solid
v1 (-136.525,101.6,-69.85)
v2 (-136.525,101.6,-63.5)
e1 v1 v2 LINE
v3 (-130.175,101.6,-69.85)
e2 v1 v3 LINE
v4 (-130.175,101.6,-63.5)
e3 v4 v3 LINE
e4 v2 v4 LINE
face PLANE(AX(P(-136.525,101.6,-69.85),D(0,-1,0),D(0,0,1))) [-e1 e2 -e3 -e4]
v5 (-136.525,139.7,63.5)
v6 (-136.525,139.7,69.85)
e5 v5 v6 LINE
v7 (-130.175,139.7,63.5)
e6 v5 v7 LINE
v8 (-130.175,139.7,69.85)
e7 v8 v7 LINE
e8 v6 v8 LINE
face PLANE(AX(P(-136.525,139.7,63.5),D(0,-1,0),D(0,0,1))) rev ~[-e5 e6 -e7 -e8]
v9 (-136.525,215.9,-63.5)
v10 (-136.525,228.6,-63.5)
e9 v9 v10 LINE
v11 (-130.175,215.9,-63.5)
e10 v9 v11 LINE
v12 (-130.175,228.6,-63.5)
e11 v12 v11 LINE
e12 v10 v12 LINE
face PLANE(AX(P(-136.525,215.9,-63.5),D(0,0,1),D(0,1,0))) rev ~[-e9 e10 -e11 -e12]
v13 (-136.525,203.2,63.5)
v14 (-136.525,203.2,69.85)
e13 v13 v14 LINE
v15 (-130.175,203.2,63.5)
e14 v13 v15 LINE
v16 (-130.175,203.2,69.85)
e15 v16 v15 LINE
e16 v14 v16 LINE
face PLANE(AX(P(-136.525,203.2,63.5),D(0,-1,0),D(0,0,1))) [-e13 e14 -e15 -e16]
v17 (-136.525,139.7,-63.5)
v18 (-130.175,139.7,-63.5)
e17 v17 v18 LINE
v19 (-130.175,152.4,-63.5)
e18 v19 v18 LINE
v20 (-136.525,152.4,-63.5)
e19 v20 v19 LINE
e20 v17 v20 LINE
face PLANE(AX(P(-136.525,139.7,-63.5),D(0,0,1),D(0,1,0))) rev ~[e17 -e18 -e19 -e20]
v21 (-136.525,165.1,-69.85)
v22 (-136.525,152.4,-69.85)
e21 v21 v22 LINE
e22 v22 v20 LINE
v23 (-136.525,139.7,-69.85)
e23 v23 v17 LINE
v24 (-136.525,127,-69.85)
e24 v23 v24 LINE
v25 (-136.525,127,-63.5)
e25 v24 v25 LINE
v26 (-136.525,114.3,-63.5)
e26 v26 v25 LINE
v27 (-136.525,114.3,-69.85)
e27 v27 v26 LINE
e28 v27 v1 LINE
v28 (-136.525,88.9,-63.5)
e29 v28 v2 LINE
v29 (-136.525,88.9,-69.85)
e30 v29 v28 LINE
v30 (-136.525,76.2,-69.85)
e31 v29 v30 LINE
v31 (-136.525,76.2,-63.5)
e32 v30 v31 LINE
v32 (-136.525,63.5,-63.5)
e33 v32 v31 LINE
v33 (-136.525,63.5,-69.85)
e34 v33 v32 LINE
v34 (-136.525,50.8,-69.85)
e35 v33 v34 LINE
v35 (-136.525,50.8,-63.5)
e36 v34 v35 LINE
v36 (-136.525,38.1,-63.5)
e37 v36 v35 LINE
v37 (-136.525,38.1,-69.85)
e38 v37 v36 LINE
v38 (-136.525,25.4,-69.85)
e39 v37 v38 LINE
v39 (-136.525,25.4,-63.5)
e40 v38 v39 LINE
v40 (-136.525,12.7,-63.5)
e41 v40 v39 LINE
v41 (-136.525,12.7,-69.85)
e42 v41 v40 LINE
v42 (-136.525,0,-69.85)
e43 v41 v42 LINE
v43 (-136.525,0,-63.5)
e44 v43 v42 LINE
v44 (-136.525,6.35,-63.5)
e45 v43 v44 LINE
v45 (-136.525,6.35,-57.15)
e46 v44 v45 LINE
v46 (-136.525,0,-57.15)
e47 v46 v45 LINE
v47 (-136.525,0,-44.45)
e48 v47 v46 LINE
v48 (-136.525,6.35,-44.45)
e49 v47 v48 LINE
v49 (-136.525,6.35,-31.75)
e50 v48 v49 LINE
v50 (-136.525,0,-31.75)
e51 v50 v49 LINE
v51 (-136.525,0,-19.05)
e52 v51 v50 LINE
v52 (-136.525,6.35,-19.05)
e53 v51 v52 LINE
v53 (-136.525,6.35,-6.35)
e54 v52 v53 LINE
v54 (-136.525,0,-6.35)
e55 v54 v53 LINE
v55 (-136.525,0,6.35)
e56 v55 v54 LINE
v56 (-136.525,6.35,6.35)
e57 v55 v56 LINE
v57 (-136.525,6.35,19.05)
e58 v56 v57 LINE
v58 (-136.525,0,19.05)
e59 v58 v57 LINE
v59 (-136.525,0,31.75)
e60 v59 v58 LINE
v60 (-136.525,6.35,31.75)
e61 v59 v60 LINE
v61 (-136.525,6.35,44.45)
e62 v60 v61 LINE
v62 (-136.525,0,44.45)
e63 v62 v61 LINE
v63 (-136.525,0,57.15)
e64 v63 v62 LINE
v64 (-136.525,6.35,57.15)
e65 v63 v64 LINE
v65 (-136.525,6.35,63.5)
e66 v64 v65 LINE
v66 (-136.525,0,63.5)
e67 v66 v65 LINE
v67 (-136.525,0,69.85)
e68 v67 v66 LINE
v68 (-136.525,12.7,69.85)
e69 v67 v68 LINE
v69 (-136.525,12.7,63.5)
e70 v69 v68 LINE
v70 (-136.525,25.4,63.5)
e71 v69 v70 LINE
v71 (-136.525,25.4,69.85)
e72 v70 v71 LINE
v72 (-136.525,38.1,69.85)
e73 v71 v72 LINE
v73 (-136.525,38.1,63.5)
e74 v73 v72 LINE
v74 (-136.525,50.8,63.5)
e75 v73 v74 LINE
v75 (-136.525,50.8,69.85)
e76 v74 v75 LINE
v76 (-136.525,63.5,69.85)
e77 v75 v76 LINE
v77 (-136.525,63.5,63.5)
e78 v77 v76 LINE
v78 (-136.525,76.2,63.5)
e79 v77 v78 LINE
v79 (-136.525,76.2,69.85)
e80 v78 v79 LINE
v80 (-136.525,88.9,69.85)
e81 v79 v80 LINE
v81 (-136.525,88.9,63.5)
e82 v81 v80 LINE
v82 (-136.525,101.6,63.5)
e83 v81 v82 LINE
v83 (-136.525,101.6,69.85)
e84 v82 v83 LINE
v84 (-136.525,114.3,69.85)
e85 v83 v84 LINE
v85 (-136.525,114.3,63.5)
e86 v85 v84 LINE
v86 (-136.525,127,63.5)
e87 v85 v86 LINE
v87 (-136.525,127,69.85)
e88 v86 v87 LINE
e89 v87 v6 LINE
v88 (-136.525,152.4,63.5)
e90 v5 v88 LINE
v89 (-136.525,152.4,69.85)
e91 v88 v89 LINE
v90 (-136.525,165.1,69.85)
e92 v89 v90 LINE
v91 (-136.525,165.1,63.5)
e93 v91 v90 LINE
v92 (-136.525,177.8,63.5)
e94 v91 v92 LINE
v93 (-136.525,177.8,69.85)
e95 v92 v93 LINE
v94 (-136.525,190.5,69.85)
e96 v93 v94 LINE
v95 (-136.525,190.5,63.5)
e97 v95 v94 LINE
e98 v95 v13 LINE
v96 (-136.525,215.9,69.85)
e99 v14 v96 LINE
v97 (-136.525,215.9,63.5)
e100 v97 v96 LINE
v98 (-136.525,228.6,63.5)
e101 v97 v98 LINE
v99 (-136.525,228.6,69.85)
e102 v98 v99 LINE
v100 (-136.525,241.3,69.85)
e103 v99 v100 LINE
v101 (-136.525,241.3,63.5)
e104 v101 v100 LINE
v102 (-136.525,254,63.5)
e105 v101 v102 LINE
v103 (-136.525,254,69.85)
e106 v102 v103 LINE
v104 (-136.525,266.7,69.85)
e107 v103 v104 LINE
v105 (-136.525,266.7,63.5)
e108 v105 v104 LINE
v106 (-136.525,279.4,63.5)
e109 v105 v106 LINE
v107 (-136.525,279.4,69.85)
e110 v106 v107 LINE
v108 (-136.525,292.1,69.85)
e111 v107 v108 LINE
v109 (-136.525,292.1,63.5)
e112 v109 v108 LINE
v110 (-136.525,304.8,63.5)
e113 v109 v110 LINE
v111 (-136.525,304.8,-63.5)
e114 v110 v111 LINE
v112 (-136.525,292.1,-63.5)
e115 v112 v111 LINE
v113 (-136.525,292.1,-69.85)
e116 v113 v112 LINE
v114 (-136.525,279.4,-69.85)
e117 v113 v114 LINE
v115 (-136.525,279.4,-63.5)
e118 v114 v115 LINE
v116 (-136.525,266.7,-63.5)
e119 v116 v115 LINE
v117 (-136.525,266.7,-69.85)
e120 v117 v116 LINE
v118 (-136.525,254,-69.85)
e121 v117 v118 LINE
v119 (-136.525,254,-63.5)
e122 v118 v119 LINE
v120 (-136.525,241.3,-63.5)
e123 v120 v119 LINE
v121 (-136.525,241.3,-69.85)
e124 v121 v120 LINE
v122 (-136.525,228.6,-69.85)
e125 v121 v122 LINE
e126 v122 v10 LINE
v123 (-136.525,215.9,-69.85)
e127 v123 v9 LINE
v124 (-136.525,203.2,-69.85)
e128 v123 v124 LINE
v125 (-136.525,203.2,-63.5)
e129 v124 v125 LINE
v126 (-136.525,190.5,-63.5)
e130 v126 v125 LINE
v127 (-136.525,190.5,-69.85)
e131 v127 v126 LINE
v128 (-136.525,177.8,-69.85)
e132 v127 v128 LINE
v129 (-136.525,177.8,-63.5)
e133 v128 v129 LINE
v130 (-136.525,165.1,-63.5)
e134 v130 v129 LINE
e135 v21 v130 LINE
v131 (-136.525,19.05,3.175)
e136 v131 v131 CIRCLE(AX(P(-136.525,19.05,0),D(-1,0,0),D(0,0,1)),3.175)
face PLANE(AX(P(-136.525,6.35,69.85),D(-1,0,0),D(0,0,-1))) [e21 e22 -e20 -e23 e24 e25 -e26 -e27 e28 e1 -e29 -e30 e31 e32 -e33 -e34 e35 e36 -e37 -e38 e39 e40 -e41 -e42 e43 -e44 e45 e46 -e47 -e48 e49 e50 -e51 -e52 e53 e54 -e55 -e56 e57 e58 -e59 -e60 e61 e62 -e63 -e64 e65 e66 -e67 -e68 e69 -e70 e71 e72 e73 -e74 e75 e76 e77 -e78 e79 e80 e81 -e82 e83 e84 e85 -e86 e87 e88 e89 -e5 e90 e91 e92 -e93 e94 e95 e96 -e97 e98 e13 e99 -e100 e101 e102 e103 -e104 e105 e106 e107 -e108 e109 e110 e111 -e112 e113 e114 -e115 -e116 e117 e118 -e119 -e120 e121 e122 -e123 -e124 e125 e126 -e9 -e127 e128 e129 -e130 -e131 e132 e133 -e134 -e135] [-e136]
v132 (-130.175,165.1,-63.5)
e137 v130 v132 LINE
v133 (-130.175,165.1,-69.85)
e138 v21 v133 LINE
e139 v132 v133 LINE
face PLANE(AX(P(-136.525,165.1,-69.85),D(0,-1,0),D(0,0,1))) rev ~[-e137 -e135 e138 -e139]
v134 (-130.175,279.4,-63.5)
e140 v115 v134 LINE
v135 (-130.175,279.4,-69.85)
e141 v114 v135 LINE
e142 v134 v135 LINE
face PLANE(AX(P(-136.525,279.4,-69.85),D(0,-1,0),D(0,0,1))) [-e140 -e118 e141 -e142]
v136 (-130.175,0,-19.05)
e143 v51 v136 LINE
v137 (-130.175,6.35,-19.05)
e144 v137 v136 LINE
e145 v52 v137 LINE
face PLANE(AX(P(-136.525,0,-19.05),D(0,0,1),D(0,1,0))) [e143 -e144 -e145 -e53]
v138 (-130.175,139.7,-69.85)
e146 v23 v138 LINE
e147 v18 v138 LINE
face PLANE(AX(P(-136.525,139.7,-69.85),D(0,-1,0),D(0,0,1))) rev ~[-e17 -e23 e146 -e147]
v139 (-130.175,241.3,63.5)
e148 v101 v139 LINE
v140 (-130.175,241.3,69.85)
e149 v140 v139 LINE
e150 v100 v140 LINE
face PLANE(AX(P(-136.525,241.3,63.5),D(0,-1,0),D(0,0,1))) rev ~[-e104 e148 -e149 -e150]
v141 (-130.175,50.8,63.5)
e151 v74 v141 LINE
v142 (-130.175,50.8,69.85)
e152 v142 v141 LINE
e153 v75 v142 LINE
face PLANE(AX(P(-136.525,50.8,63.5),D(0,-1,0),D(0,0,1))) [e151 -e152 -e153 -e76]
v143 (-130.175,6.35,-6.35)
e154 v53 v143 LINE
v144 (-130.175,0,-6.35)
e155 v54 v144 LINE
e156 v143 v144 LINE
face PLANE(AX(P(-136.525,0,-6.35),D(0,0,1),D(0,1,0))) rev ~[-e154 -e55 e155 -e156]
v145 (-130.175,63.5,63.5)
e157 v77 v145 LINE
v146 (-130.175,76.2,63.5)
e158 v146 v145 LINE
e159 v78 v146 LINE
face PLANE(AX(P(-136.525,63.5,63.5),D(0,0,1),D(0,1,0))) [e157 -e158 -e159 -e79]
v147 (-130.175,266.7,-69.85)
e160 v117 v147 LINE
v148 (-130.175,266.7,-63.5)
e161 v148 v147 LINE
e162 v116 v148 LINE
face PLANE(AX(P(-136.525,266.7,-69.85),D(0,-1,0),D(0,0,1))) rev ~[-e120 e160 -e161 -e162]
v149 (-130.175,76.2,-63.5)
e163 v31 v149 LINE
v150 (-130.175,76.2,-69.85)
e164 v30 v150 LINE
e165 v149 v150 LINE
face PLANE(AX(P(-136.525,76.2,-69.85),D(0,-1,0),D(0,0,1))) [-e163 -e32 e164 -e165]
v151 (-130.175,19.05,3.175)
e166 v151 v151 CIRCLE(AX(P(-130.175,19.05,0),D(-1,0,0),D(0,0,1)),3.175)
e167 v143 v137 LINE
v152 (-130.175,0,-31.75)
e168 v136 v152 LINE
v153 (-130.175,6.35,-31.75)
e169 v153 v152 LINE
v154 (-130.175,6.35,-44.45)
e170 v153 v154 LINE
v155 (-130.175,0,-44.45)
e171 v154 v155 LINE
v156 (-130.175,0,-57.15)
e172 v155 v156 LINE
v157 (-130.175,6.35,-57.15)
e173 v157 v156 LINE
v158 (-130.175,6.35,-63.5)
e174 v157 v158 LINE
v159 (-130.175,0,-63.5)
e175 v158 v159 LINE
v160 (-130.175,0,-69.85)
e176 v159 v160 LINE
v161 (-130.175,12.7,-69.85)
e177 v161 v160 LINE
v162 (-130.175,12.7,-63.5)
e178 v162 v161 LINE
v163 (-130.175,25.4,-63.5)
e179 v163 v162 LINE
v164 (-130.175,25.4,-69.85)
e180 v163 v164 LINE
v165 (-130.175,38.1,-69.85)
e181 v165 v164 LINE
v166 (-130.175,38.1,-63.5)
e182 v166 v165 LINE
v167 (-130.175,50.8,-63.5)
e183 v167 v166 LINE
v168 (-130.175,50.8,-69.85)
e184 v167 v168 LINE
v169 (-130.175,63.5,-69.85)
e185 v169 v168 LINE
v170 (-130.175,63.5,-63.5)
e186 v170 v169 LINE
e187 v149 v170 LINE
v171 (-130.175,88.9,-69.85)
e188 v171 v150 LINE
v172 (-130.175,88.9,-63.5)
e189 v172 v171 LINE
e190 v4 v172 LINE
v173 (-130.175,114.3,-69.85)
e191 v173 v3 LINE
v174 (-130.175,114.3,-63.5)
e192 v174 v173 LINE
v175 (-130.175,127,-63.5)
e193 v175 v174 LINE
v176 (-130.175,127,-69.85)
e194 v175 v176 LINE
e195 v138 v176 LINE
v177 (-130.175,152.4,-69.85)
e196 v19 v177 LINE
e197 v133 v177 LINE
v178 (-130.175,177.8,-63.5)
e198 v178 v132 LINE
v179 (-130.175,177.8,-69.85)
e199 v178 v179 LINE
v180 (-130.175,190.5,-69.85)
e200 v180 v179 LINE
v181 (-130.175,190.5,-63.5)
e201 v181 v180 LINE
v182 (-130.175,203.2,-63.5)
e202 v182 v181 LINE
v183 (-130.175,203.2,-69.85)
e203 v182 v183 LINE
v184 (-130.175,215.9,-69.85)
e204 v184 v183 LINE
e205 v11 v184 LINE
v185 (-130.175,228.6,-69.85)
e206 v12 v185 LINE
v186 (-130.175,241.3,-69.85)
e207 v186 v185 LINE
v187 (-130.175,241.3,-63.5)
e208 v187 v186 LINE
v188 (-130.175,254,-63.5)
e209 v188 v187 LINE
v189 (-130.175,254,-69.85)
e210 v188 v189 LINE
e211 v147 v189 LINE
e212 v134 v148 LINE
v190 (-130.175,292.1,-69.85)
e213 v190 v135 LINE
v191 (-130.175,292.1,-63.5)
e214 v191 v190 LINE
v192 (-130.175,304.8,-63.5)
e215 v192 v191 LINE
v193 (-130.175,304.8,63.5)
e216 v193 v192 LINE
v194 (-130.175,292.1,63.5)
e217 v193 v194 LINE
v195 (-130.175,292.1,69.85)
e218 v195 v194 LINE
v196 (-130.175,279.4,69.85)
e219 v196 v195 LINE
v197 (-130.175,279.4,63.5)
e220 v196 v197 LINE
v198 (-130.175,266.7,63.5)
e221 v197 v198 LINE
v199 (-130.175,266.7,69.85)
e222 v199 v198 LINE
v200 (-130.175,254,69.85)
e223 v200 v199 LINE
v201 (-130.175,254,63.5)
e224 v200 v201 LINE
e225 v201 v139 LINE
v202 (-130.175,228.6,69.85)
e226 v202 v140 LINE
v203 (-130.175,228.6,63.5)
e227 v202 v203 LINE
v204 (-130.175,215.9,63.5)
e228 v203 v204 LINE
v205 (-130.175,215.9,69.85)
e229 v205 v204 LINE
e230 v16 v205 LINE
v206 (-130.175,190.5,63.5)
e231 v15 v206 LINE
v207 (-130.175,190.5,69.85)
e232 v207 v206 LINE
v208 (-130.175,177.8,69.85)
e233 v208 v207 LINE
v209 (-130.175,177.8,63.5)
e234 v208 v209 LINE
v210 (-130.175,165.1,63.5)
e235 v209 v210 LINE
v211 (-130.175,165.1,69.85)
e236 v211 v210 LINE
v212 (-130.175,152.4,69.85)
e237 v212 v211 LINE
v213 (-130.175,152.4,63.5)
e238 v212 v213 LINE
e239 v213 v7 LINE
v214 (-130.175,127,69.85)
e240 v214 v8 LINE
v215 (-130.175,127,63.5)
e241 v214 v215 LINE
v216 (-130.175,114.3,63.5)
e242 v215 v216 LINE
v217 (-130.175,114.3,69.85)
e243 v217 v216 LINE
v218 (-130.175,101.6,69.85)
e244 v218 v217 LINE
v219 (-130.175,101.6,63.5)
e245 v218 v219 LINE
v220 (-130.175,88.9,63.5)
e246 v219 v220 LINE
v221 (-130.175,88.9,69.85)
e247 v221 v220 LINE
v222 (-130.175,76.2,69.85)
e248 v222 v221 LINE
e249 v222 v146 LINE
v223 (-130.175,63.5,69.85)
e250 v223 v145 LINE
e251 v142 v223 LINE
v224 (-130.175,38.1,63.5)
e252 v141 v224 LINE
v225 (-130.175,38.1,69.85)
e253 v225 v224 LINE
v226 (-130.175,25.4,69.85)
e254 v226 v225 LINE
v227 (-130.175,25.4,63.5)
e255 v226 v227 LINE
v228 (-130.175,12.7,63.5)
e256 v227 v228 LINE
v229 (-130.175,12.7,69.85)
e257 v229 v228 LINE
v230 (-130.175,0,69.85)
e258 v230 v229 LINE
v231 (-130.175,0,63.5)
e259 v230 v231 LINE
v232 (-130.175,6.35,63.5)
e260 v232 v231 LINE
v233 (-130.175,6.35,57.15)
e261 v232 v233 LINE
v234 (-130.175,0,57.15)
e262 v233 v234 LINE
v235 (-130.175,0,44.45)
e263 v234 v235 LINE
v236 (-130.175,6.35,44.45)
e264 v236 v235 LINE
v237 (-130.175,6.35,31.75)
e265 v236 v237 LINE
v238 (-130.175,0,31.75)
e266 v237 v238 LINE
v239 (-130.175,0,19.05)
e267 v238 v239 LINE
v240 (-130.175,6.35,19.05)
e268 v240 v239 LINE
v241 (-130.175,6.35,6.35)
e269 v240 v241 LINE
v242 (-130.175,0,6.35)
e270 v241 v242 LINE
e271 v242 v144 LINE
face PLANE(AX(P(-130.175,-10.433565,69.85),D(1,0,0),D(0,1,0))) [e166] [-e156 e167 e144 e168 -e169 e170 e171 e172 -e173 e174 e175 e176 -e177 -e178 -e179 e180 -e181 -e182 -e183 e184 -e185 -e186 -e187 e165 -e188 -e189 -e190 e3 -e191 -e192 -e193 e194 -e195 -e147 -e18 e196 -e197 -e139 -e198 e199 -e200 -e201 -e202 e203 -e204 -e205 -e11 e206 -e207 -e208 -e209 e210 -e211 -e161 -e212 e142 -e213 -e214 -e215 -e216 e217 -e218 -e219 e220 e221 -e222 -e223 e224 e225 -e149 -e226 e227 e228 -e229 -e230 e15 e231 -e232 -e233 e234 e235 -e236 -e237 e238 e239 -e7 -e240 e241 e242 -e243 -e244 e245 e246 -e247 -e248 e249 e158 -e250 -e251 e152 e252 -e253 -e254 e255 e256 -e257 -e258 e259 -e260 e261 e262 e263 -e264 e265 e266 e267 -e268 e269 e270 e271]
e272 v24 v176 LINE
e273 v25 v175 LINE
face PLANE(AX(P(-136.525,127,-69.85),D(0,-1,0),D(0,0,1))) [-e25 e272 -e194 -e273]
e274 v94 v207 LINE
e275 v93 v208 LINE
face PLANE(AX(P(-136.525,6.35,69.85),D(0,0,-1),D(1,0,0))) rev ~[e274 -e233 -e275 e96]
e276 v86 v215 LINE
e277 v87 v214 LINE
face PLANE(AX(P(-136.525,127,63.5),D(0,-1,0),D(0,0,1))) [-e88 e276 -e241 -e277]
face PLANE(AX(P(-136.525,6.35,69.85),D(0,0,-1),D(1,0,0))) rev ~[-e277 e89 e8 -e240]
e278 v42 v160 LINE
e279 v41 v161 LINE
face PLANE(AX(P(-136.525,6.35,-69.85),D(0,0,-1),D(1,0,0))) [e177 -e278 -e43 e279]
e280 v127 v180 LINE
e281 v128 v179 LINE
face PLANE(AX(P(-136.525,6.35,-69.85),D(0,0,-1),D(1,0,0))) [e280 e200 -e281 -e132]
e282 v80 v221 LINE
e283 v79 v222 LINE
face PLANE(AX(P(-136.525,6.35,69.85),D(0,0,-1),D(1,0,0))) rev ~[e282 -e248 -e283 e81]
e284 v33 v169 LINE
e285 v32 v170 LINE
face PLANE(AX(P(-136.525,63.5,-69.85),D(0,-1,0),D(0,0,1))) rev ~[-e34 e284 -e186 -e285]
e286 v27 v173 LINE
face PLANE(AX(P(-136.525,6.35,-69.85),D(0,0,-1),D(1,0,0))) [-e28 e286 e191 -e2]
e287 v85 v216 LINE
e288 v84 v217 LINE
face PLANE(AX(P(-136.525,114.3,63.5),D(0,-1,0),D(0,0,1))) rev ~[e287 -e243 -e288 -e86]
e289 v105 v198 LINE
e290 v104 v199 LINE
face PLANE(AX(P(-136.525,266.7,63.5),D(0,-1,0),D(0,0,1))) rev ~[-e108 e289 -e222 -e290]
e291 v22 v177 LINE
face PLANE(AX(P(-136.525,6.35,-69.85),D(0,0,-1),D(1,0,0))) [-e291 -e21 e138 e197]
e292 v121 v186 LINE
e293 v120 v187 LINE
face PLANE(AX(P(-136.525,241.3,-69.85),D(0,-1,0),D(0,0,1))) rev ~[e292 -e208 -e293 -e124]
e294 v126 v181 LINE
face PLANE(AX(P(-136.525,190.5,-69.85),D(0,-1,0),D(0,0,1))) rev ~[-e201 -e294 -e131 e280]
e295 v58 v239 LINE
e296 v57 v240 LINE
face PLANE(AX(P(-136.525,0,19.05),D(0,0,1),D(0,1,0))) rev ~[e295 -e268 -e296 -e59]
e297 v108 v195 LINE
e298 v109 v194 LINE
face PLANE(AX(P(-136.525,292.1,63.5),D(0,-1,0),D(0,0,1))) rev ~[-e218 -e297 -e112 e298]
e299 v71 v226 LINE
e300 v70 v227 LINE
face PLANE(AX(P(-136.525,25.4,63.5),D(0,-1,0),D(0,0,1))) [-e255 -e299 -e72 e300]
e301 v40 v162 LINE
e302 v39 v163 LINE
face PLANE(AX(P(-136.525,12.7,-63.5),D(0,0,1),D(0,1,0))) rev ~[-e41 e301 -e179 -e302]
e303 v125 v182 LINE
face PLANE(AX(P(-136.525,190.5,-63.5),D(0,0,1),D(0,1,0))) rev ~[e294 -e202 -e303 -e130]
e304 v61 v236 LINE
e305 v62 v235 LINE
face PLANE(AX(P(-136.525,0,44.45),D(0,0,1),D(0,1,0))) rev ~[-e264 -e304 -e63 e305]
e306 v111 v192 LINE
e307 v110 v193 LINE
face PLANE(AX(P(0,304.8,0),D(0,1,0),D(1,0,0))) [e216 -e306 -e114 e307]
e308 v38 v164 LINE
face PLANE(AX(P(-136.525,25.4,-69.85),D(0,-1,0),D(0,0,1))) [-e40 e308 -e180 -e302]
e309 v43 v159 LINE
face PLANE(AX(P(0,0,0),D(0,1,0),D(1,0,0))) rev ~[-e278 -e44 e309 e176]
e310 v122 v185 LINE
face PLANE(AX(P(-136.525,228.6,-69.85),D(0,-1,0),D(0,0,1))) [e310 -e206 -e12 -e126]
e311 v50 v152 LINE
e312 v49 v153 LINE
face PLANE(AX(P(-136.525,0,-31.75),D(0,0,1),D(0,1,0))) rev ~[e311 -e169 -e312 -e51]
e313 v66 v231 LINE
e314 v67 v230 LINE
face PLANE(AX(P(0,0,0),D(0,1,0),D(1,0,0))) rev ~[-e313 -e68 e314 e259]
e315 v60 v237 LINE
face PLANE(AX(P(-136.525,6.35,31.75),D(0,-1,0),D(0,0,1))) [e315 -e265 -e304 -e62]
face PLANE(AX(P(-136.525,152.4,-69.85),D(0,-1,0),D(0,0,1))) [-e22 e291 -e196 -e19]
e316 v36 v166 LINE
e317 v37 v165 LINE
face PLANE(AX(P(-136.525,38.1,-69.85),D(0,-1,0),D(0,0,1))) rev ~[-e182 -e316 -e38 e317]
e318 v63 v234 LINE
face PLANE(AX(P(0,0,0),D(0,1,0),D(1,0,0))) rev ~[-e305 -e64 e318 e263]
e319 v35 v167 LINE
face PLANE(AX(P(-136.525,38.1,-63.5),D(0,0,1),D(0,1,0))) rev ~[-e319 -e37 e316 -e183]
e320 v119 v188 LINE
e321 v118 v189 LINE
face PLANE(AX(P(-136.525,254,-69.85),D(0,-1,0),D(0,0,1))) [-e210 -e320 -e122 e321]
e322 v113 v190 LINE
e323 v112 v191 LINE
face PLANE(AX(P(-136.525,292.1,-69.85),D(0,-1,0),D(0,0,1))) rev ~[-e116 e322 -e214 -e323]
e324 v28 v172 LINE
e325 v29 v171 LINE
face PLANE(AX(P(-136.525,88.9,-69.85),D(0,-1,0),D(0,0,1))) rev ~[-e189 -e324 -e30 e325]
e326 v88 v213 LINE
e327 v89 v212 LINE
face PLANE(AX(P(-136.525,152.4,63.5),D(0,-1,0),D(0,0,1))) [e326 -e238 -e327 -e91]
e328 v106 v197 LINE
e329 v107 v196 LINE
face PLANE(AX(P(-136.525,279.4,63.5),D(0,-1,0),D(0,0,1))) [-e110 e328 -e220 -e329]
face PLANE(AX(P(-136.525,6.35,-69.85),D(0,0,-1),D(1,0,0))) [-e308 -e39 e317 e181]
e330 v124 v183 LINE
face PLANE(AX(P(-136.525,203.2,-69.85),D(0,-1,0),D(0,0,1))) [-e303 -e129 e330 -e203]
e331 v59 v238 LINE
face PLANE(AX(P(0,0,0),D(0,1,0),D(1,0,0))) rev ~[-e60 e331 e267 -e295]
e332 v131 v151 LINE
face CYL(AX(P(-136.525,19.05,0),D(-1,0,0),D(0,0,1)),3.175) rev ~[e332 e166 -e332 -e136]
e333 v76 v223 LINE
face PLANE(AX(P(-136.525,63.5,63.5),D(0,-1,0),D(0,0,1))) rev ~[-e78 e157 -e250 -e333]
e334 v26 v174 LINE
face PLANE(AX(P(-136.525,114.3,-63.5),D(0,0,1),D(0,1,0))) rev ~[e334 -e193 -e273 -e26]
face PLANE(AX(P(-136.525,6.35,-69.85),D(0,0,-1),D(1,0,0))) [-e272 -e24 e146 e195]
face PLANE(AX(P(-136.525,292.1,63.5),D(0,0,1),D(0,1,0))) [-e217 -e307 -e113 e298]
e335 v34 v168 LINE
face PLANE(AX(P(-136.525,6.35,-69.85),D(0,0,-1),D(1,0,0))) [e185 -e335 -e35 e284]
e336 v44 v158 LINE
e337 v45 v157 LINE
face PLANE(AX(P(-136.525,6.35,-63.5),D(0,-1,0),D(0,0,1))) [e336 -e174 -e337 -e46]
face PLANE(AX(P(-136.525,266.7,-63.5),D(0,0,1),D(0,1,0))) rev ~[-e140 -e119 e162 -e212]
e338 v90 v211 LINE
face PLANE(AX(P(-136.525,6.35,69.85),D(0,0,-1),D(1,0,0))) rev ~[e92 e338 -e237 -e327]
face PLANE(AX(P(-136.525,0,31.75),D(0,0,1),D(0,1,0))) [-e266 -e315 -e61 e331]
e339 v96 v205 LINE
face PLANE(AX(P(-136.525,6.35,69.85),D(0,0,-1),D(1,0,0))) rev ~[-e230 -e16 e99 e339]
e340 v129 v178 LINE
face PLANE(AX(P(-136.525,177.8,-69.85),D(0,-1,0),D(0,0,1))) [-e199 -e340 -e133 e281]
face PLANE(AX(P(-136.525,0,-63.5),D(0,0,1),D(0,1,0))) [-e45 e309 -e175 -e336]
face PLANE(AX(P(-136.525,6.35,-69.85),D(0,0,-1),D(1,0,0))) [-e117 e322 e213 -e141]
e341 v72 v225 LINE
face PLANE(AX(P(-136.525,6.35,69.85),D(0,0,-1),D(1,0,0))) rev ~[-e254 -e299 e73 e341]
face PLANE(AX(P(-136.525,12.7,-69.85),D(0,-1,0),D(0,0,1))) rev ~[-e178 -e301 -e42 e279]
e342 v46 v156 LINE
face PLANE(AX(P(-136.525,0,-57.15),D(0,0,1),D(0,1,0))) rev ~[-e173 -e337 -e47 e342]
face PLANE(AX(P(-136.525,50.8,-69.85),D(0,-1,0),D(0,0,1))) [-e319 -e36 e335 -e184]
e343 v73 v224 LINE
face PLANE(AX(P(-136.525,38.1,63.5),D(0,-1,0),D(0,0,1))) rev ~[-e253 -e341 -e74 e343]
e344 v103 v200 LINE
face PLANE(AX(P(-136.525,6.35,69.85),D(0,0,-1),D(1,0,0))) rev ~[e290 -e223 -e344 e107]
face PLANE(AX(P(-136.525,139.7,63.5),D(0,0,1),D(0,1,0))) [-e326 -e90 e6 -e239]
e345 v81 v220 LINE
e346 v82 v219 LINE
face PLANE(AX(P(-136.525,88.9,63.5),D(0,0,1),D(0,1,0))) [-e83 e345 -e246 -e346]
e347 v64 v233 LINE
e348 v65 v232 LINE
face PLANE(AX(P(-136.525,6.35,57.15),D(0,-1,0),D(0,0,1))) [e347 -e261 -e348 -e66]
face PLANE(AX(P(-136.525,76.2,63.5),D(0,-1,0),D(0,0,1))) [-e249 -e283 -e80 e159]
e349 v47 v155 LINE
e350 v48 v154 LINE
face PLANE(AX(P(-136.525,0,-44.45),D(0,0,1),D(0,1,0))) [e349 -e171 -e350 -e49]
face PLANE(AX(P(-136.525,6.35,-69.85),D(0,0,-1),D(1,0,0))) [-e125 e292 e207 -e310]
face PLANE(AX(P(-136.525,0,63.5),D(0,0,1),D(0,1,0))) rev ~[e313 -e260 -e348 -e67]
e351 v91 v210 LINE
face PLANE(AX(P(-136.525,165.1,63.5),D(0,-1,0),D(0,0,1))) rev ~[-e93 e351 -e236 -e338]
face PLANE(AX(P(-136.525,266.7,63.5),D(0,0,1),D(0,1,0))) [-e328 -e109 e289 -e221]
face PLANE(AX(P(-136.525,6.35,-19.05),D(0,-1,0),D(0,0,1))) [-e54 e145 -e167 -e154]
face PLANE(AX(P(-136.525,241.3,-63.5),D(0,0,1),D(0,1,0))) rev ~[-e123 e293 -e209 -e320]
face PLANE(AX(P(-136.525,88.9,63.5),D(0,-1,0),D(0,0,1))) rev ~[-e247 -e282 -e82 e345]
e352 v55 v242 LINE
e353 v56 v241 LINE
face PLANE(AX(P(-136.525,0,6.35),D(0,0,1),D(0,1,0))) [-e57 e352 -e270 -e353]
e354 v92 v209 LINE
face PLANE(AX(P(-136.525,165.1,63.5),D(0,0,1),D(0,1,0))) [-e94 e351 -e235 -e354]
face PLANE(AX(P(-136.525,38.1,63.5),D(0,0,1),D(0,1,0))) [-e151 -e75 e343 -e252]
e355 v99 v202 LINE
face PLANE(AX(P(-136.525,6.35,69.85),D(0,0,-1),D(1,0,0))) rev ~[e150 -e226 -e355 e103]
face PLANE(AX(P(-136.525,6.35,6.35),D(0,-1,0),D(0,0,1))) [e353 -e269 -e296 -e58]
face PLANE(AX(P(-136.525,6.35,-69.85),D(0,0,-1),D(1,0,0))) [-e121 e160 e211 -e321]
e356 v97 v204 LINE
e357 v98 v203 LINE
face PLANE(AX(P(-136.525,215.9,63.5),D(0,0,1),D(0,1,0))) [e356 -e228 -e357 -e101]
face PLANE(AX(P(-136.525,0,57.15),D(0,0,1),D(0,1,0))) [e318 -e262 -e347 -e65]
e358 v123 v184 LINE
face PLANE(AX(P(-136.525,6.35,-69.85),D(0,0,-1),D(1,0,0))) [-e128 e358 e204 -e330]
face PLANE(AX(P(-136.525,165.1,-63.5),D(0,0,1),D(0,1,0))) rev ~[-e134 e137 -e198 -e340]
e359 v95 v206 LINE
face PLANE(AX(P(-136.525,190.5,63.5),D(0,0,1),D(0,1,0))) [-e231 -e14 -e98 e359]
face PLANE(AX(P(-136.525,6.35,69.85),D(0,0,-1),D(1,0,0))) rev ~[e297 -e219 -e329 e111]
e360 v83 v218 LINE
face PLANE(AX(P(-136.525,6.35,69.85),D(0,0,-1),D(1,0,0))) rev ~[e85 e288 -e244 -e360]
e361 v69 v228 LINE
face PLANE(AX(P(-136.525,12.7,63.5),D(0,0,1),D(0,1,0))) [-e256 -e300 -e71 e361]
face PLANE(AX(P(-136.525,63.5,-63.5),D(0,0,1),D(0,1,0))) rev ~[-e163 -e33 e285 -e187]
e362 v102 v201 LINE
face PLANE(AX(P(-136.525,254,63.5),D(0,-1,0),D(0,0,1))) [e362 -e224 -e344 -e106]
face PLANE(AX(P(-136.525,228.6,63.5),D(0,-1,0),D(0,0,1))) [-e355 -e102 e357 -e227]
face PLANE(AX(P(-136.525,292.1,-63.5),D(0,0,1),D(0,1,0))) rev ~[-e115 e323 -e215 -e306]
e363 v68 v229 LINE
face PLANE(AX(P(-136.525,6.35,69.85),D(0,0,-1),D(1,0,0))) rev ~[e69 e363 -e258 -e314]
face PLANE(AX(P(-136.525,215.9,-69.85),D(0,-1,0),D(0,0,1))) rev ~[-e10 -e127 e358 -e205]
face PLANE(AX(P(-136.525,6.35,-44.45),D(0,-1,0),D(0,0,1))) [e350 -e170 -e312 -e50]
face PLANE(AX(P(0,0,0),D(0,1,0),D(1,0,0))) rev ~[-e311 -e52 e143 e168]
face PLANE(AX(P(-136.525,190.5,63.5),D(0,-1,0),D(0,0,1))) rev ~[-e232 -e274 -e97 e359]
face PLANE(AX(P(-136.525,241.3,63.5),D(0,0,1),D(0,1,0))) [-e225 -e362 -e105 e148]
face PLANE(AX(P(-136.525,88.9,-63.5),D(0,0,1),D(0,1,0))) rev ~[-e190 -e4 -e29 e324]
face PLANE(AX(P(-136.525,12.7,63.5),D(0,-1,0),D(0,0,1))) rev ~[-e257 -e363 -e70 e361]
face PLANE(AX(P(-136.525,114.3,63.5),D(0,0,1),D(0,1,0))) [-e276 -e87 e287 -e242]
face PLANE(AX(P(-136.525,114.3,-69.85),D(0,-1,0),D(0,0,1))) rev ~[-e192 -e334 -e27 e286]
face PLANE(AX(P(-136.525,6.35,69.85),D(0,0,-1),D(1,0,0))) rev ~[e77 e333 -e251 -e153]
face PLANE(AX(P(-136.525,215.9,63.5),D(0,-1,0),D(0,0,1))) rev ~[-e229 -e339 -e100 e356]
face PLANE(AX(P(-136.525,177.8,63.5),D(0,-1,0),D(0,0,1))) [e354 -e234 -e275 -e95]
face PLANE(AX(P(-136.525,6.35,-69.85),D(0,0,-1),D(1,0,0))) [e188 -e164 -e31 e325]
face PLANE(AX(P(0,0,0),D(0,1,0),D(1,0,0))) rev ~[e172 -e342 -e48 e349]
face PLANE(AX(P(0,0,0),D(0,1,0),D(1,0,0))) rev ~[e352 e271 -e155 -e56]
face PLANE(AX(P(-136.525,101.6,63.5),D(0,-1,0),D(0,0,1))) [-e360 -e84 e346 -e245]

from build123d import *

# Parameters (mm, degrees)
SKETCH1_W              = 273.05
SKETCH1_H              = 139.7
BOSS_EXTRUDE1_DEPTH    = 6.35
SKETCH2_W              = 273.05
SKETCH2_H              = 139.7
SKETCH2_W_2            = 260.35
SKETCH2_H_2            = 127
BOSS_EXTRUDE2_DEPTH    = 298.45
SKETCH3_W              = 6.35
SKETCH3_H              = 16.933333333
SKETCH3_H_2            = 16.933333334
DOOR_SLOT_DEPTH        = 12.7
DOOR_GUIDE_HOLES_REACH = 361.617
SKETCH4_W              = 6.35
SKETCH4_H              = 15.875
LEVER_HOLES_W          = 9.652
LEVER_HOLES_H          = 6.35
LEVER_HOLES_W_2        = 6.35
CUT_EXTRUDE1_DEPTH     = 363.019620497
CUT_EXTRUDE2_REACH     = 417.137
SKETCH7_R              = 26.9875
CUT_EXTRUDE3_REACH     = 417.137
SKETCH8_R              = 3.175
SKETCH16_W             = 336.131526087
SKETCH16_H             = 315.233565403
CUT_EXTRUDE10_DEPTH    = 363.019620497
LEFT_RIGHT_W           = 6.35
LEFT_RIGHT_H           = 6.35
LEFT_RIGHT_W_2         = 12.7
LEFT_RIGHT_H_2         = 12.7
CUT_EXTRUDE11_DEPTH    = 313.765703043


with BuildPart() as part:
    # Sketch1 → Boss-Extrude1 (new body)
    with BuildSketch(Plane(origin=(0, 0, 0), x_dir=(1, 0, 0), z_dir=(0, 1, 0))):
        Rectangle(SKETCH1_W, SKETCH1_H)
    extrude(amount=BOSS_EXTRUDE1_DEPTH)

    # Sketch2 → Boss-Extrude2 (add)
    with BuildSketch(Plane(origin=(0, 6.35, 0), x_dir=(1, 0, 0), z_dir=(0, 1, 0))):
        Rectangle(SKETCH2_W, SKETCH2_H)
        Rectangle(SKETCH2_W_2, SKETCH2_H_2, mode=Mode.SUBTRACT)
    extrude(amount=BOSS_EXTRUDE2_DEPTH)

    # Sketch3 → Door Slot (cut)
    with BuildSketch(Plane.XY.offset(69.85)):
        with BuildLine():
            Line((-28.575, 283.21), (-28.575, 6.35))
            Line((-28.575, 6.35), (-21.971, 6.35))
            Line((-21.971, 6.35), (-21.971, 292.354))
            Line((-21.971, 292.354), (-41.529, 292.354))
            Line((-41.529, 292.354), (-41.529, 285.75))
            Line((-41.529, 285.75), (-31.115, 285.75))
            ThreePointArc((-31.115, 285.75), (-29.318948776, 285.006051224), (-28.575, 283.21))
        make_face()
        with Locations((-12.446, 80.433333334)):
            Rectangle(SKETCH3_W, SKETCH3_H)
        with Locations((-12.446, 50.8)):
            Rectangle(SKETCH3_W, SKETCH3_H_2)
        with Locations((-12.446, 21.166666667)):
            Rectangle(SKETCH3_W, SKETCH3_H)
    extrude(amount=-DOOR_SLOT_DEPTH, mode=Mode.SUBTRACT)

    # Sketch4 → Door Guide Holes (cut, up to next)
    with BuildSketch(Plane.XY.offset(-63.5), mode=Mode.PRIVATE) as door_guide_holes_sk1:
        with Locations((-44.704, 284.1625)):
            Rectangle(SKETCH4_W, SKETCH4_H)
    door_guide_holes_tool1 = extrude(door_guide_holes_sk1.sketch, amount=-DOOR_GUIDE_HOLES_REACH, mode=Mode.PRIVATE) & part.part
    # Sketch4 → Door Guide Holes (cut, up to next)
    with BuildSketch(Plane.XY.offset(-63.5), mode=Mode.PRIVATE) as door_guide_holes_sk2:
        with Locations((-44.704, 255.5875)):
            Rectangle(SKETCH4_W, SKETCH4_H)
    door_guide_holes_tool2 = extrude(door_guide_holes_sk2.sketch, amount=-DOOR_GUIDE_HOLES_REACH, mode=Mode.PRIVATE) & part.part
    # Sketch4 → Door Guide Holes (cut, up to next)
    with BuildSketch(Plane.XY.offset(-63.5), mode=Mode.PRIVATE) as door_guide_holes_sk3:
        with Locations((-44.704, 227.0125)):
            Rectangle(SKETCH4_W, SKETCH4_H)
    door_guide_holes_tool3 = extrude(door_guide_holes_sk3.sketch, amount=-DOOR_GUIDE_HOLES_REACH, mode=Mode.PRIVATE) & part.part
    # Sketch4 → Door Guide Holes (cut, up to next)
    with BuildSketch(Plane.XY.offset(-63.5), mode=Mode.PRIVATE) as door_guide_holes_sk4:
        with Locations((-44.704, 198.4375)):
            Rectangle(SKETCH4_W, SKETCH4_H)
    door_guide_holes_tool4 = extrude(door_guide_holes_sk4.sketch, amount=-DOOR_GUIDE_HOLES_REACH, mode=Mode.PRIVATE) & part.part
    # Sketch4 → Door Guide Holes (cut, up to next)
    with BuildSketch(Plane.XY.offset(-63.5), mode=Mode.PRIVATE) as door_guide_holes_sk5:
        with Locations((-44.704, 169.8625)):
            Rectangle(SKETCH4_W, SKETCH4_H)
    door_guide_holes_tool5 = extrude(door_guide_holes_sk5.sketch, amount=-DOOR_GUIDE_HOLES_REACH, mode=Mode.PRIVATE) & part.part
    # Sketch4 → Door Guide Holes (cut, up to next)
    with BuildSketch(Plane.XY.offset(-63.5), mode=Mode.PRIVATE) as door_guide_holes_sk6:
        with Locations((-44.704, 141.2875)):
            Rectangle(SKETCH4_W, SKETCH4_H)
    door_guide_holes_tool6 = extrude(door_guide_holes_sk6.sketch, amount=-DOOR_GUIDE_HOLES_REACH, mode=Mode.PRIVATE) & part.part
    # Sketch4 → Door Guide Holes (cut, up to next)
    with BuildSketch(Plane.XY.offset(-63.5), mode=Mode.PRIVATE) as door_guide_holes_sk7:
        with Locations((-44.704, 112.7125)):
            Rectangle(SKETCH4_W, SKETCH4_H)
    door_guide_holes_tool7 = extrude(door_guide_holes_sk7.sketch, amount=-DOOR_GUIDE_HOLES_REACH, mode=Mode.PRIVATE) & part.part
    # Sketch4 → Door Guide Holes (cut, up to next)
    with BuildSketch(Plane.XY.offset(-63.5), mode=Mode.PRIVATE) as door_guide_holes_sk8:
        with Locations((-44.704, 84.1375)):
            Rectangle(SKETCH4_W, SKETCH4_H)
    door_guide_holes_tool8 = extrude(door_guide_holes_sk8.sketch, amount=-DOOR_GUIDE_HOLES_REACH, mode=Mode.PRIVATE) & part.part
    # Sketch4 → Door Guide Holes (cut, up to next)
    with BuildSketch(Plane.XY.offset(-63.5), mode=Mode.PRIVATE) as door_guide_holes_sk9:
        with Locations((-44.704, 55.5625)):
            Rectangle(SKETCH4_W, SKETCH4_H)
    door_guide_holes_tool9 = extrude(door_guide_holes_sk9.sketch, amount=-DOOR_GUIDE_HOLES_REACH, mode=Mode.PRIVATE) & part.part
    # Sketch4 → Door Guide Holes (cut, up to next)
    with BuildSketch(Plane.XY.offset(-63.5), mode=Mode.PRIVATE) as door_guide_holes_sk10:
        with Locations((-44.704, 26.9875)):
            Rectangle(SKETCH4_W, SKETCH4_H)
    door_guide_holes_tool10 = extrude(door_guide_holes_sk10.sketch, amount=-DOOR_GUIDE_HOLES_REACH, mode=Mode.PRIVATE) & part.part
    door_guide_holes_1 = door_guide_holes_tool1.solids().sort_by_distance((-44.704, 284.1625, -63.5))[0]
    add(door_guide_holes_1, mode=Mode.SUBTRACT)
    door_guide_holes_2 = door_guide_holes_tool2.solids().sort_by_distance((-44.704, 255.5875, -63.5))[0]
    add(door_guide_holes_2, mode=Mode.SUBTRACT)
    door_guide_holes_3 = door_guide_holes_tool3.solids().sort_by_distance((-44.704, 227.0125, -63.5))[0]
    add(door_guide_holes_3, mode=Mode.SUBTRACT)
    door_guide_holes_4 = door_guide_holes_tool4.solids().sort_by_distance((-44.704, 198.4375, -63.5))[0]
    add(door_guide_holes_4, mode=Mode.SUBTRACT)
    door_guide_holes_5 = door_guide_holes_tool5.solids().sort_by_distance((-44.704, 169.8625, -63.5))[0]
    add(door_guide_holes_5, mode=Mode.SUBTRACT)
    door_guide_holes_6 = door_guide_holes_tool6.solids().sort_by_distance((-44.704, 141.2875, -63.5))[0]
    add(door_guide_holes_6, mode=Mode.SUBTRACT)
    door_guide_holes_7 = door_guide_holes_tool7.solids().sort_by_distance((-44.704, 112.7125, -63.5))[0]
    add(door_guide_holes_7, mode=Mode.SUBTRACT)
    door_guide_holes_8 = door_guide_holes_tool8.solids().sort_by_distance((-44.704, 84.1375, -63.5))[0]
    add(door_guide_holes_8, mode=Mode.SUBTRACT)
    door_guide_holes_9 = door_guide_holes_tool9.solids().sort_by_distance((-44.704, 55.5625, -63.5))[0]
    add(door_guide_holes_9, mode=Mode.SUBTRACT)
    door_guide_holes_10 = door_guide_holes_tool10.solids().sort_by_distance((-44.704, 26.9875, -63.5))[0]
    add(door_guide_holes_10, mode=Mode.SUBTRACT)
    door_guide_holes = door_guide_holes_1 + door_guide_holes_2 + door_guide_holes_3 + door_guide_holes_4 + door_guide_holes_5 + door_guide_holes_6 + door_guide_holes_7 + door_guide_holes_8 + door_guide_holes_9 + door_guide_holes_10  # Door Guide Holes as one shape, for the pattern or mirror that repeats it

    # Mirror1: Door Guide Holes across plane
    add(door_guide_holes.mirror(Plane.ZY.offset(31.75)), mode=Mode.SUBTRACT)

    # Lever Holes → Cut-Extrude1 (cut, through all)
    with BuildSketch(Plane.XY.offset(69.85)):
        with Locations((54.102, 28.575)):
            Rectangle(LEVER_HOLES_W, LEVER_HOLES_H)
        with Locations((39.3065, 15.875)):
            Rectangle(LEVER_HOLES_W_2, LEVER_HOLES_H)
        with Locations((68.8975, 15.875)):
            Rectangle(LEVER_HOLES_W_2, LEVER_HOLES_H)
    extrude(amount=-CUT_EXTRUDE1_DEPTH, mode=Mode.SUBTRACT)

    # Sketch7 → Cut-Extrude2 (cut, up to next)
    with BuildSketch(Plane(origin=(136.525, 0, 0), x_dir=(0, 0, -1), z_dir=(1, 0, 0)), mode=Mode.PRIVATE) as cut_extrude2_sk1:
        with Locations((0, 55.372)):
            Circle(SKETCH7_R)
    cut_extrude2_tool1 = extrude(cut_extrude2_sk1.sketch, amount=-CUT_EXTRUDE2_REACH, mode=Mode.PRIVATE) & part.part
    # Sketch7 → Cut-Extrude2 (cut, up to next)
    with BuildSketch(Plane(origin=(136.525, 0, 0), x_dir=(0, 0, -1), z_dir=(1, 0, 0)), mode=Mode.PRIVATE) as cut_extrude2_sk2:
        with BuildLine():
            Line((-37.211, 89.408), (-37.211, 92.583))
            Line((-37.211, 92.583), (-34.036, 92.583))
            ThreePointArc((-34.036, 92.583), (-39.45606403, 94.82806403), (-37.211, 89.408))
        make_face()
    cut_extrude2_tool2 = extrude(cut_extrude2_sk2.sketch, amount=-CUT_EXTRUDE2_REACH, mode=Mode.PRIVATE) & part.part
    # Sketch7 → Cut-Extrude2 (cut, up to next)
    with BuildSketch(Plane(origin=(136.525, 0, 0), x_dir=(0, 0, -1), z_dir=(1, 0, 0)), mode=Mode.PRIVATE) as cut_extrude2_sk3:
        with BuildLine():
            Line((-34.036, 92.583), (-37.211, 92.583))
            Line((-37.211, 92.583), (-37.211, 89.408))
            ThreePointArc((-37.211, 89.408), (-34.96593597, 90.33793597), (-34.036, 92.583))
        make_face()
    cut_extrude2_tool3 = extrude(cut_extrude2_sk3.sketch, amount=-CUT_EXTRUDE2_REACH, mode=Mode.PRIVATE) & part.part
    # Sketch7 → Cut-Extrude2 (cut, up to next)
    with BuildSketch(Plane(origin=(136.525, 0, 0), x_dir=(0, 0, -1), z_dir=(1, 0, 0)), mode=Mode.PRIVATE) as cut_extrude2_sk4:
        with BuildLine():
            Line((-37.211, 89.408), (-37.211, 92.583))
            Line((-37.211, 92.583), (-34.036, 92.583))
            ThreePointArc((-34.036, 92.583), (-39.45606403, 94.82806403), (-37.211, 89.408))
        make_face()
    cut_extrude2_tool4 = extrude(cut_extrude2_sk4.sketch, amount=-CUT_EXTRUDE2_REACH, mode=Mode.PRIVATE) & part.part
    # Sketch7 → Cut-Extrude2 (cut, up to next)
    with BuildSketch(Plane(origin=(136.525, 0, 0), x_dir=(0, 0, -1), z_dir=(1, 0, 0)), mode=Mode.PRIVATE) as cut_extrude2_sk5:
        with BuildLine():
            Line((-34.036, 92.583), (-37.211, 92.583))
            Line((-37.211, 92.583), (-37.211, 89.408))
            ThreePointArc((-37.211, 89.408), (-34.96593597, 90.33793597), (-34.036, 92.583))
        make_face()
    cut_extrude2_tool5 = extrude(cut_extrude2_sk5.sketch, amount=-CUT_EXTRUDE2_REACH, mode=Mode.PRIVATE) & part.part
    # Sketch7 → Cut-Extrude2 (cut, up to next)
    with BuildSketch(Plane(origin=(136.525, 0, 0), x_dir=(0, 0, -1), z_dir=(1, 0, 0)), mode=Mode.PRIVATE) as cut_extrude2_sk6:
        with BuildLine():
            ThreePointArc((40.386, 92.583), (37.211, 95.758), (34.036, 92.583))
            Line((34.036, 92.583), (37.211, 92.583))
            Line((37.211, 92.583), (37.211, 89.408))
            ThreePointArc((37.211, 89.408), (39.45606403, 90.33793597), (40.386, 92.583))
        make_face()
    cut_extrude2_tool6 = extrude(cut_extrude2_sk6.sketch, amount=-CUT_EXTRUDE2_REACH, mode=Mode.PRIVATE) & part.part
    # Sketch7 → Cut-Extrude2 (cut, up to next)
    with BuildSketch(Plane(origin=(136.525, 0, 0), x_dir=(0, 0, -1), z_dir=(1, 0, 0)), mode=Mode.PRIVATE) as cut_extrude2_sk7:
        with BuildLine():
            Line((37.211, 92.583), (34.036, 92.583))
            ThreePointArc((34.036, 92.583), (34.96593597, 90.33793597), (37.211, 89.408))
            Line((37.211, 89.408), (37.211, 92.583))
        make_face()
    cut_extrude2_tool7 = extrude(cut_extrude2_sk7.sketch, amount=-CUT_EXTRUDE2_REACH, mode=Mode.PRIVATE) & part.part
    # Sketch7 → Cut-Extrude2 (cut, up to next)
    with BuildSketch(Plane(origin=(136.525, 0, 0), x_dir=(0, 0, -1), z_dir=(1, 0, 0)), mode=Mode.PRIVATE) as cut_extrude2_sk8:
        with BuildLine():
            ThreePointArc((40.386, 92.583), (37.211, 95.758), (34.036, 92.583))
            Line((34.036, 92.583), (37.211, 92.583))
            Line((37.211, 92.583), (37.211, 89.408))
            ThreePointArc((37.211, 89.408), (39.45606403, 90.33793597), (40.386, 92.583))
        make_face()
    cut_extrude2_tool8 = extrude(cut_extrude2_sk8.sketch, amount=-CUT_EXTRUDE2_REACH, mode=Mode.PRIVATE) & part.part
    # Sketch7 → Cut-Extrude2 (cut, up to next)
    with BuildSketch(Plane(origin=(136.525, 0, 0), x_dir=(0, 0, -1), z_dir=(1, 0, 0)), mode=Mode.PRIVATE) as cut_extrude2_sk9:
        with BuildLine():
            Line((37.211, 92.583), (34.036, 92.583))
            ThreePointArc((34.036, 92.583), (34.96593597, 90.33793597), (37.211, 89.408))
            Line((37.211, 89.408), (37.211, 92.583))
        make_face()
    cut_extrude2_tool9 = extrude(cut_extrude2_sk9.sketch, amount=-CUT_EXTRUDE2_REACH, mode=Mode.PRIVATE) & part.part
    # Sketch7 → Cut-Extrude2 (cut, up to next)
    with BuildSketch(Plane(origin=(136.525, 0, 0), x_dir=(0, 0, -1), z_dir=(1, 0, 0)), mode=Mode.PRIVATE) as cut_extrude2_sk10:
        with BuildLine():
            ThreePointArc((-34.036, 18.161), (-34.96593597, 20.40606403), (-37.211, 21.336))
            Line((-37.211, 21.336), (-37.211, 18.161))
            Line((-37.211, 18.161), (-34.036, 18.161))
        make_face()
    cut_extrude2_tool10 = extrude(cut_extrude2_sk10.sketch, amount=-CUT_EXTRUDE2_REACH, mode=Mode.PRIVATE) & part.part
    # Sketch7 → Cut-Extrude2 (cut, up to next)
    with BuildSketch(Plane(origin=(136.525, 0, 0), x_dir=(0, 0, -1), z_dir=(1, 0, 0)), mode=Mode.PRIVATE) as cut_extrude2_sk11:
        with BuildLine():
            Line((-37.211, 18.161), (-37.211, 21.336))
            ThreePointArc((-37.211, 21.336), (-39.45606403, 15.91593597), (-34.036, 18.161))
            Line((-34.036, 18.161), (-37.211, 18.161))
        make_face()
    cut_extrude2_tool11 = extrude(cut_extrude2_sk11.sketch, amount=-CUT_EXTRUDE2_REACH, mode=Mode.PRIVATE) & part.part
    # Sketch7 → Cut-Extrude2 (cut, up to next)
    with BuildSketch(Plane(origin=(136.525, 0, 0), x_dir=(0, 0, -1), z_dir=(1, 0, 0)), mode=Mode.PRIVATE) as cut_extrude2_sk12:
        with BuildLine():
            ThreePointArc((-34.036, 18.161), (-34.96593597, 20.40606403), (-37.211, 21.336))
            Line((-37.211, 21.336), (-37.211, 18.161))
            Line((-37.211, 18.161), (-34.036, 18.161))
        make_face()
    cut_extrude2_tool12 = extrude(cut_extrude2_sk12.sketch, amount=-CUT_EXTRUDE2_REACH, mode=Mode.PRIVATE) & part.part
    # Sketch7 → Cut-Extrude2 (cut, up to next)
    with BuildSketch(Plane(origin=(136.525, 0, 0), x_dir=(0, 0, -1), z_dir=(1, 0, 0)), mode=Mode.PRIVATE) as cut_extrude2_sk13:
        with BuildLine():
            Line((-37.211, 18.161), (-37.211, 21.336))
            ThreePointArc((-37.211, 21.336), (-39.45606403, 15.91593597), (-34.036, 18.161))
            Line((-34.036, 18.161), (-37.211, 18.161))
        make_face()
    cut_extrude2_tool13 = extrude(cut_extrude2_sk13.sketch, amount=-CUT_EXTRUDE2_REACH, mode=Mode.PRIVATE) & part.part
    # Sketch7 → Cut-Extrude2 (cut, up to next)
    with BuildSketch(Plane(origin=(136.525, 0, 0), x_dir=(0, 0, -1), z_dir=(1, 0, 0)), mode=Mode.PRIVATE) as cut_extrude2_sk14:
        with BuildLine():
            ThreePointArc((40.386, 18.161), (39.45606403, 20.40606403), (37.211, 21.336))
            Line((37.211, 21.336), (37.211, 18.161))
            Line((37.211, 18.161), (34.036, 18.161))
            ThreePointArc((34.036, 18.161), (37.211, 14.986), (40.386, 18.161))
        make_face()
    cut_extrude2_tool14 = extrude(cut_extrude2_sk14.sketch, amount=-CUT_EXTRUDE2_REACH, mode=Mode.PRIVATE) & part.part
    # Sketch7 → Cut-Extrude2 (cut, up to next)
    with BuildSketch(Plane(origin=(136.525, 0, 0), x_dir=(0, 0, -1), z_dir=(1, 0, 0)), mode=Mode.PRIVATE) as cut_extrude2_sk15:
        with BuildLine():
            Line((37.211, 18.161), (37.211, 21.336))
            ThreePointArc((37.211, 21.336), (34.96593597, 20.40606403), (34.036, 18.161))
            Line((34.036, 18.161), (37.211, 18.161))
        make_face()
    cut_extrude2_tool15 = extrude(cut_extrude2_sk15.sketch, amount=-CUT_EXTRUDE2_REACH, mode=Mode.PRIVATE) & part.part
    # Sketch7 → Cut-Extrude2 (cut, up to next)
    with BuildSketch(Plane(origin=(136.525, 0, 0), x_dir=(0, 0, -1), z_dir=(1, 0, 0)), mode=Mode.PRIVATE) as cut_extrude2_sk16:
        with BuildLine():
            ThreePointArc((40.386, 18.161), (39.45606403, 20.40606403), (37.211, 21.336))
            Line((37.211, 21.336), (37.211, 18.161))
            Line((37.211, 18.161), (34.036, 18.161))
            ThreePointArc((34.036, 18.161), (37.211, 14.986), (40.386, 18.161))
        make_face()
    cut_extrude2_tool16 = extrude(cut_extrude2_sk16.sketch, amount=-CUT_EXTRUDE2_REACH, mode=Mode.PRIVATE) & part.part
    # Sketch7 → Cut-Extrude2 (cut, up to next)
    with BuildSketch(Plane(origin=(136.525, 0, 0), x_dir=(0, 0, -1), z_dir=(1, 0, 0)), mode=Mode.PRIVATE) as cut_extrude2_sk17:
        with BuildLine():
            Line((37.211, 18.161), (37.211, 21.336))
            ThreePointArc((37.211, 21.336), (34.96593597, 20.40606403), (34.036, 18.161))
            Line((34.036, 18.161), (37.211, 18.161))
        make_face()
    cut_extrude2_tool17 = extrude(cut_extrude2_sk17.sketch, amount=-CUT_EXTRUDE2_REACH, mode=Mode.PRIVATE) & part.part
    add(cut_extrude2_tool1.solids().sort_by_distance((136.525, 55.372, 0))[0], mode=Mode.SUBTRACT)
    add(cut_extrude2_tool2.solids().sort_by_distance((136.525, 93.032171, 37.660171))[0], mode=Mode.SUBTRACT)
    add(cut_extrude2_tool3.solids().sort_by_distance((136.525, 91.235488, 35.863488))[0], mode=Mode.SUBTRACT)
    add(cut_extrude2_tool4.solids().sort_by_distance((136.525, 93.032171, 37.660171))[0], mode=Mode.SUBTRACT)
    add(cut_extrude2_tool5.solids().sort_by_distance((136.525, 91.235488, 35.863488))[0], mode=Mode.SUBTRACT)
    add(cut_extrude2_tool6.solids().sort_by_distance((136.525, 93.032171, -37.660171))[0], mode=Mode.SUBTRACT)
    add(cut_extrude2_tool7.solids().sort_by_distance((136.525, 91.235488, -35.863488))[0], mode=Mode.SUBTRACT)
    add(cut_extrude2_tool8.solids().sort_by_distance((136.525, 93.032171, -37.660171))[0], mode=Mode.SUBTRACT)
    add(cut_extrude2_tool9.solids().sort_by_distance((136.525, 91.235488, -35.863488))[0], mode=Mode.SUBTRACT)
    add(cut_extrude2_tool10.solids().sort_by_distance((136.525, 19.508512, 35.863488))[0], mode=Mode.SUBTRACT)
    add(cut_extrude2_tool11.solids().sort_by_distance((136.525, 17.711829, 37.660171))[0], mode=Mode.SUBTRACT)
    add(cut_extrude2_tool12.solids().sort_by_distance((136.525, 19.508512, 35.863488))[0], mode=Mode.SUBTRACT)
    add(cut_extrude2_tool13.solids().sort_by_distance((136.525, 17.711829, 37.660171))[0], mode=Mode.SUBTRACT)
    add(cut_extrude2_tool14.solids().sort_by_distance((136.525, 17.711829, -37.660171))[0], mode=Mode.SUBTRACT)
    add(cut_extrude2_tool15.solids().sort_by_distance((136.525, 19.508512, -35.863488))[0], mode=Mode.SUBTRACT)
    add(cut_extrude2_tool16.solids().sort_by_distance((136.525, 17.711829, -37.660171))[0], mode=Mode.SUBTRACT)
    add(cut_extrude2_tool17.solids().sort_by_distance((136.525, 19.508512, -35.863488))[0], mode=Mode.SUBTRACT)

    # Sketch8 → Cut-Extrude3 (cut, up to next)
    with BuildSketch(Plane.ZY.offset(136.525), mode=Mode.PRIVATE) as cut_extrude3_sk1:
        with Locations((0, 19.05)):
            Circle(SKETCH8_R)
    cut_extrude3_tool1 = extrude(cut_extrude3_sk1.sketch, amount=-CUT_EXTRUDE3_REACH, mode=Mode.PRIVATE) & part.part
    add(cut_extrude3_tool1.solids().sort_by_distance((-136.525, 19.05, 0))[0], mode=Mode.SUBTRACT)

    # Sketch16 → Cut-Extrude10 (cut, through all)
    with BuildSketch(Plane.XY.offset(69.85)):
        with Locations((37.890763044, 147.183217299)):
            Rectangle(SKETCH16_W, SKETCH16_H)
    extrude(amount=-CUT_EXTRUDE10_DEPTH, mode=Mode.SUBTRACT)

    # Left/Right → Cut-Extrude11 (cut, through all)
    with BuildSketch(Plane.ZY.offset(136.525)):
        with Locations((60.325, 3.175)):
            Rectangle(LEFT_RIGHT_W, LEFT_RIGHT_H)
        with Locations((38.1, 3.175)):
            Rectangle(LEFT_RIGHT_W_2, LEFT_RIGHT_H)
        with Locations((66.675, 19.05)):
            Rectangle(LEFT_RIGHT_W, LEFT_RIGHT_H_2)
        with Locations((12.7, 3.175)):
            Rectangle(LEFT_RIGHT_W_2, LEFT_RIGHT_H)
        with Locations((66.675, 44.45)):
            Rectangle(LEFT_RIGHT_W, LEFT_RIGHT_H_2)
        with Locations((-12.7, 3.175)):
            Rectangle(LEFT_RIGHT_W_2, LEFT_RIGHT_H)
        with Locations((66.675, 69.85)):
            Rectangle(LEFT_RIGHT_W, LEFT_RIGHT_H_2)
        with Locations((-38.1, 3.175)):
            Rectangle(LEFT_RIGHT_W_2, LEFT_RIGHT_H)
        with Locations((66.675, 95.25)):
            Rectangle(LEFT_RIGHT_W, LEFT_RIGHT_H_2)
        with Locations((-60.325, 3.175)):
            Rectangle(LEFT_RIGHT_W, LEFT_RIGHT_H)
        with Locations((66.675, 120.65)):
            Rectangle(LEFT_RIGHT_W, LEFT_RIGHT_H_2)
        with Locations((-66.675, 19.05)):
            Rectangle(LEFT_RIGHT_W, LEFT_RIGHT_H_2)
        with Locations((66.675, 146.05)):
            Rectangle(LEFT_RIGHT_W, LEFT_RIGHT_H_2)
        with Locations((-66.675, 44.45)):
            Rectangle(LEFT_RIGHT_W, LEFT_RIGHT_H_2)
        with Locations((66.675, 171.45)):
            Rectangle(LEFT_RIGHT_W, LEFT_RIGHT_H_2)
        with Locations((-66.675, 69.85)):
            Rectangle(LEFT_RIGHT_W, LEFT_RIGHT_H_2)
        with Locations((66.675, 196.85)):
            Rectangle(LEFT_RIGHT_W, LEFT_RIGHT_H_2)
        with Locations((-66.675, 95.25)):
            Rectangle(LEFT_RIGHT_W, LEFT_RIGHT_H_2)
        with Locations((66.675, 222.25)):
            Rectangle(LEFT_RIGHT_W, LEFT_RIGHT_H_2)
        with Locations((-66.675, 120.65)):
            Rectangle(LEFT_RIGHT_W, LEFT_RIGHT_H_2)
        with Locations((66.675, 247.65)):
            Rectangle(LEFT_RIGHT_W, LEFT_RIGHT_H_2)
        with Locations((-66.675, 146.05)):
            Rectangle(LEFT_RIGHT_W, LEFT_RIGHT_H_2)
        with Locations((66.675, 273.05)):
            Rectangle(LEFT_RIGHT_W, LEFT_RIGHT_H_2)
        with Locations((-66.675, 171.45)):
            Rectangle(LEFT_RIGHT_W, LEFT_RIGHT_H_2)
        with Locations((66.675, 298.45)):
            Rectangle(LEFT_RIGHT_W, LEFT_RIGHT_H_2)
        with Locations((-66.675, 196.85)):
            Rectangle(LEFT_RIGHT_W, LEFT_RIGHT_H_2)
        with Locations((-66.675, 222.25)):
            Rectangle(LEFT_RIGHT_W, LEFT_RIGHT_H_2)
        with Locations((-66.675, 247.65)):
            Rectangle(LEFT_RIGHT_W, LEFT_RIGHT_H_2)
        with Locations((-66.675, 273.05)):
            Rectangle(LEFT_RIGHT_W, LEFT_RIGHT_H_2)
        with Locations((-66.675, 298.45)):
            Rectangle(LEFT_RIGHT_W, LEFT_RIGHT_H_2)
    extrude(amount=-CUT_EXTRUDE11_DEPTH, mode=Mode.SUBTRACT)


solid = part.part
